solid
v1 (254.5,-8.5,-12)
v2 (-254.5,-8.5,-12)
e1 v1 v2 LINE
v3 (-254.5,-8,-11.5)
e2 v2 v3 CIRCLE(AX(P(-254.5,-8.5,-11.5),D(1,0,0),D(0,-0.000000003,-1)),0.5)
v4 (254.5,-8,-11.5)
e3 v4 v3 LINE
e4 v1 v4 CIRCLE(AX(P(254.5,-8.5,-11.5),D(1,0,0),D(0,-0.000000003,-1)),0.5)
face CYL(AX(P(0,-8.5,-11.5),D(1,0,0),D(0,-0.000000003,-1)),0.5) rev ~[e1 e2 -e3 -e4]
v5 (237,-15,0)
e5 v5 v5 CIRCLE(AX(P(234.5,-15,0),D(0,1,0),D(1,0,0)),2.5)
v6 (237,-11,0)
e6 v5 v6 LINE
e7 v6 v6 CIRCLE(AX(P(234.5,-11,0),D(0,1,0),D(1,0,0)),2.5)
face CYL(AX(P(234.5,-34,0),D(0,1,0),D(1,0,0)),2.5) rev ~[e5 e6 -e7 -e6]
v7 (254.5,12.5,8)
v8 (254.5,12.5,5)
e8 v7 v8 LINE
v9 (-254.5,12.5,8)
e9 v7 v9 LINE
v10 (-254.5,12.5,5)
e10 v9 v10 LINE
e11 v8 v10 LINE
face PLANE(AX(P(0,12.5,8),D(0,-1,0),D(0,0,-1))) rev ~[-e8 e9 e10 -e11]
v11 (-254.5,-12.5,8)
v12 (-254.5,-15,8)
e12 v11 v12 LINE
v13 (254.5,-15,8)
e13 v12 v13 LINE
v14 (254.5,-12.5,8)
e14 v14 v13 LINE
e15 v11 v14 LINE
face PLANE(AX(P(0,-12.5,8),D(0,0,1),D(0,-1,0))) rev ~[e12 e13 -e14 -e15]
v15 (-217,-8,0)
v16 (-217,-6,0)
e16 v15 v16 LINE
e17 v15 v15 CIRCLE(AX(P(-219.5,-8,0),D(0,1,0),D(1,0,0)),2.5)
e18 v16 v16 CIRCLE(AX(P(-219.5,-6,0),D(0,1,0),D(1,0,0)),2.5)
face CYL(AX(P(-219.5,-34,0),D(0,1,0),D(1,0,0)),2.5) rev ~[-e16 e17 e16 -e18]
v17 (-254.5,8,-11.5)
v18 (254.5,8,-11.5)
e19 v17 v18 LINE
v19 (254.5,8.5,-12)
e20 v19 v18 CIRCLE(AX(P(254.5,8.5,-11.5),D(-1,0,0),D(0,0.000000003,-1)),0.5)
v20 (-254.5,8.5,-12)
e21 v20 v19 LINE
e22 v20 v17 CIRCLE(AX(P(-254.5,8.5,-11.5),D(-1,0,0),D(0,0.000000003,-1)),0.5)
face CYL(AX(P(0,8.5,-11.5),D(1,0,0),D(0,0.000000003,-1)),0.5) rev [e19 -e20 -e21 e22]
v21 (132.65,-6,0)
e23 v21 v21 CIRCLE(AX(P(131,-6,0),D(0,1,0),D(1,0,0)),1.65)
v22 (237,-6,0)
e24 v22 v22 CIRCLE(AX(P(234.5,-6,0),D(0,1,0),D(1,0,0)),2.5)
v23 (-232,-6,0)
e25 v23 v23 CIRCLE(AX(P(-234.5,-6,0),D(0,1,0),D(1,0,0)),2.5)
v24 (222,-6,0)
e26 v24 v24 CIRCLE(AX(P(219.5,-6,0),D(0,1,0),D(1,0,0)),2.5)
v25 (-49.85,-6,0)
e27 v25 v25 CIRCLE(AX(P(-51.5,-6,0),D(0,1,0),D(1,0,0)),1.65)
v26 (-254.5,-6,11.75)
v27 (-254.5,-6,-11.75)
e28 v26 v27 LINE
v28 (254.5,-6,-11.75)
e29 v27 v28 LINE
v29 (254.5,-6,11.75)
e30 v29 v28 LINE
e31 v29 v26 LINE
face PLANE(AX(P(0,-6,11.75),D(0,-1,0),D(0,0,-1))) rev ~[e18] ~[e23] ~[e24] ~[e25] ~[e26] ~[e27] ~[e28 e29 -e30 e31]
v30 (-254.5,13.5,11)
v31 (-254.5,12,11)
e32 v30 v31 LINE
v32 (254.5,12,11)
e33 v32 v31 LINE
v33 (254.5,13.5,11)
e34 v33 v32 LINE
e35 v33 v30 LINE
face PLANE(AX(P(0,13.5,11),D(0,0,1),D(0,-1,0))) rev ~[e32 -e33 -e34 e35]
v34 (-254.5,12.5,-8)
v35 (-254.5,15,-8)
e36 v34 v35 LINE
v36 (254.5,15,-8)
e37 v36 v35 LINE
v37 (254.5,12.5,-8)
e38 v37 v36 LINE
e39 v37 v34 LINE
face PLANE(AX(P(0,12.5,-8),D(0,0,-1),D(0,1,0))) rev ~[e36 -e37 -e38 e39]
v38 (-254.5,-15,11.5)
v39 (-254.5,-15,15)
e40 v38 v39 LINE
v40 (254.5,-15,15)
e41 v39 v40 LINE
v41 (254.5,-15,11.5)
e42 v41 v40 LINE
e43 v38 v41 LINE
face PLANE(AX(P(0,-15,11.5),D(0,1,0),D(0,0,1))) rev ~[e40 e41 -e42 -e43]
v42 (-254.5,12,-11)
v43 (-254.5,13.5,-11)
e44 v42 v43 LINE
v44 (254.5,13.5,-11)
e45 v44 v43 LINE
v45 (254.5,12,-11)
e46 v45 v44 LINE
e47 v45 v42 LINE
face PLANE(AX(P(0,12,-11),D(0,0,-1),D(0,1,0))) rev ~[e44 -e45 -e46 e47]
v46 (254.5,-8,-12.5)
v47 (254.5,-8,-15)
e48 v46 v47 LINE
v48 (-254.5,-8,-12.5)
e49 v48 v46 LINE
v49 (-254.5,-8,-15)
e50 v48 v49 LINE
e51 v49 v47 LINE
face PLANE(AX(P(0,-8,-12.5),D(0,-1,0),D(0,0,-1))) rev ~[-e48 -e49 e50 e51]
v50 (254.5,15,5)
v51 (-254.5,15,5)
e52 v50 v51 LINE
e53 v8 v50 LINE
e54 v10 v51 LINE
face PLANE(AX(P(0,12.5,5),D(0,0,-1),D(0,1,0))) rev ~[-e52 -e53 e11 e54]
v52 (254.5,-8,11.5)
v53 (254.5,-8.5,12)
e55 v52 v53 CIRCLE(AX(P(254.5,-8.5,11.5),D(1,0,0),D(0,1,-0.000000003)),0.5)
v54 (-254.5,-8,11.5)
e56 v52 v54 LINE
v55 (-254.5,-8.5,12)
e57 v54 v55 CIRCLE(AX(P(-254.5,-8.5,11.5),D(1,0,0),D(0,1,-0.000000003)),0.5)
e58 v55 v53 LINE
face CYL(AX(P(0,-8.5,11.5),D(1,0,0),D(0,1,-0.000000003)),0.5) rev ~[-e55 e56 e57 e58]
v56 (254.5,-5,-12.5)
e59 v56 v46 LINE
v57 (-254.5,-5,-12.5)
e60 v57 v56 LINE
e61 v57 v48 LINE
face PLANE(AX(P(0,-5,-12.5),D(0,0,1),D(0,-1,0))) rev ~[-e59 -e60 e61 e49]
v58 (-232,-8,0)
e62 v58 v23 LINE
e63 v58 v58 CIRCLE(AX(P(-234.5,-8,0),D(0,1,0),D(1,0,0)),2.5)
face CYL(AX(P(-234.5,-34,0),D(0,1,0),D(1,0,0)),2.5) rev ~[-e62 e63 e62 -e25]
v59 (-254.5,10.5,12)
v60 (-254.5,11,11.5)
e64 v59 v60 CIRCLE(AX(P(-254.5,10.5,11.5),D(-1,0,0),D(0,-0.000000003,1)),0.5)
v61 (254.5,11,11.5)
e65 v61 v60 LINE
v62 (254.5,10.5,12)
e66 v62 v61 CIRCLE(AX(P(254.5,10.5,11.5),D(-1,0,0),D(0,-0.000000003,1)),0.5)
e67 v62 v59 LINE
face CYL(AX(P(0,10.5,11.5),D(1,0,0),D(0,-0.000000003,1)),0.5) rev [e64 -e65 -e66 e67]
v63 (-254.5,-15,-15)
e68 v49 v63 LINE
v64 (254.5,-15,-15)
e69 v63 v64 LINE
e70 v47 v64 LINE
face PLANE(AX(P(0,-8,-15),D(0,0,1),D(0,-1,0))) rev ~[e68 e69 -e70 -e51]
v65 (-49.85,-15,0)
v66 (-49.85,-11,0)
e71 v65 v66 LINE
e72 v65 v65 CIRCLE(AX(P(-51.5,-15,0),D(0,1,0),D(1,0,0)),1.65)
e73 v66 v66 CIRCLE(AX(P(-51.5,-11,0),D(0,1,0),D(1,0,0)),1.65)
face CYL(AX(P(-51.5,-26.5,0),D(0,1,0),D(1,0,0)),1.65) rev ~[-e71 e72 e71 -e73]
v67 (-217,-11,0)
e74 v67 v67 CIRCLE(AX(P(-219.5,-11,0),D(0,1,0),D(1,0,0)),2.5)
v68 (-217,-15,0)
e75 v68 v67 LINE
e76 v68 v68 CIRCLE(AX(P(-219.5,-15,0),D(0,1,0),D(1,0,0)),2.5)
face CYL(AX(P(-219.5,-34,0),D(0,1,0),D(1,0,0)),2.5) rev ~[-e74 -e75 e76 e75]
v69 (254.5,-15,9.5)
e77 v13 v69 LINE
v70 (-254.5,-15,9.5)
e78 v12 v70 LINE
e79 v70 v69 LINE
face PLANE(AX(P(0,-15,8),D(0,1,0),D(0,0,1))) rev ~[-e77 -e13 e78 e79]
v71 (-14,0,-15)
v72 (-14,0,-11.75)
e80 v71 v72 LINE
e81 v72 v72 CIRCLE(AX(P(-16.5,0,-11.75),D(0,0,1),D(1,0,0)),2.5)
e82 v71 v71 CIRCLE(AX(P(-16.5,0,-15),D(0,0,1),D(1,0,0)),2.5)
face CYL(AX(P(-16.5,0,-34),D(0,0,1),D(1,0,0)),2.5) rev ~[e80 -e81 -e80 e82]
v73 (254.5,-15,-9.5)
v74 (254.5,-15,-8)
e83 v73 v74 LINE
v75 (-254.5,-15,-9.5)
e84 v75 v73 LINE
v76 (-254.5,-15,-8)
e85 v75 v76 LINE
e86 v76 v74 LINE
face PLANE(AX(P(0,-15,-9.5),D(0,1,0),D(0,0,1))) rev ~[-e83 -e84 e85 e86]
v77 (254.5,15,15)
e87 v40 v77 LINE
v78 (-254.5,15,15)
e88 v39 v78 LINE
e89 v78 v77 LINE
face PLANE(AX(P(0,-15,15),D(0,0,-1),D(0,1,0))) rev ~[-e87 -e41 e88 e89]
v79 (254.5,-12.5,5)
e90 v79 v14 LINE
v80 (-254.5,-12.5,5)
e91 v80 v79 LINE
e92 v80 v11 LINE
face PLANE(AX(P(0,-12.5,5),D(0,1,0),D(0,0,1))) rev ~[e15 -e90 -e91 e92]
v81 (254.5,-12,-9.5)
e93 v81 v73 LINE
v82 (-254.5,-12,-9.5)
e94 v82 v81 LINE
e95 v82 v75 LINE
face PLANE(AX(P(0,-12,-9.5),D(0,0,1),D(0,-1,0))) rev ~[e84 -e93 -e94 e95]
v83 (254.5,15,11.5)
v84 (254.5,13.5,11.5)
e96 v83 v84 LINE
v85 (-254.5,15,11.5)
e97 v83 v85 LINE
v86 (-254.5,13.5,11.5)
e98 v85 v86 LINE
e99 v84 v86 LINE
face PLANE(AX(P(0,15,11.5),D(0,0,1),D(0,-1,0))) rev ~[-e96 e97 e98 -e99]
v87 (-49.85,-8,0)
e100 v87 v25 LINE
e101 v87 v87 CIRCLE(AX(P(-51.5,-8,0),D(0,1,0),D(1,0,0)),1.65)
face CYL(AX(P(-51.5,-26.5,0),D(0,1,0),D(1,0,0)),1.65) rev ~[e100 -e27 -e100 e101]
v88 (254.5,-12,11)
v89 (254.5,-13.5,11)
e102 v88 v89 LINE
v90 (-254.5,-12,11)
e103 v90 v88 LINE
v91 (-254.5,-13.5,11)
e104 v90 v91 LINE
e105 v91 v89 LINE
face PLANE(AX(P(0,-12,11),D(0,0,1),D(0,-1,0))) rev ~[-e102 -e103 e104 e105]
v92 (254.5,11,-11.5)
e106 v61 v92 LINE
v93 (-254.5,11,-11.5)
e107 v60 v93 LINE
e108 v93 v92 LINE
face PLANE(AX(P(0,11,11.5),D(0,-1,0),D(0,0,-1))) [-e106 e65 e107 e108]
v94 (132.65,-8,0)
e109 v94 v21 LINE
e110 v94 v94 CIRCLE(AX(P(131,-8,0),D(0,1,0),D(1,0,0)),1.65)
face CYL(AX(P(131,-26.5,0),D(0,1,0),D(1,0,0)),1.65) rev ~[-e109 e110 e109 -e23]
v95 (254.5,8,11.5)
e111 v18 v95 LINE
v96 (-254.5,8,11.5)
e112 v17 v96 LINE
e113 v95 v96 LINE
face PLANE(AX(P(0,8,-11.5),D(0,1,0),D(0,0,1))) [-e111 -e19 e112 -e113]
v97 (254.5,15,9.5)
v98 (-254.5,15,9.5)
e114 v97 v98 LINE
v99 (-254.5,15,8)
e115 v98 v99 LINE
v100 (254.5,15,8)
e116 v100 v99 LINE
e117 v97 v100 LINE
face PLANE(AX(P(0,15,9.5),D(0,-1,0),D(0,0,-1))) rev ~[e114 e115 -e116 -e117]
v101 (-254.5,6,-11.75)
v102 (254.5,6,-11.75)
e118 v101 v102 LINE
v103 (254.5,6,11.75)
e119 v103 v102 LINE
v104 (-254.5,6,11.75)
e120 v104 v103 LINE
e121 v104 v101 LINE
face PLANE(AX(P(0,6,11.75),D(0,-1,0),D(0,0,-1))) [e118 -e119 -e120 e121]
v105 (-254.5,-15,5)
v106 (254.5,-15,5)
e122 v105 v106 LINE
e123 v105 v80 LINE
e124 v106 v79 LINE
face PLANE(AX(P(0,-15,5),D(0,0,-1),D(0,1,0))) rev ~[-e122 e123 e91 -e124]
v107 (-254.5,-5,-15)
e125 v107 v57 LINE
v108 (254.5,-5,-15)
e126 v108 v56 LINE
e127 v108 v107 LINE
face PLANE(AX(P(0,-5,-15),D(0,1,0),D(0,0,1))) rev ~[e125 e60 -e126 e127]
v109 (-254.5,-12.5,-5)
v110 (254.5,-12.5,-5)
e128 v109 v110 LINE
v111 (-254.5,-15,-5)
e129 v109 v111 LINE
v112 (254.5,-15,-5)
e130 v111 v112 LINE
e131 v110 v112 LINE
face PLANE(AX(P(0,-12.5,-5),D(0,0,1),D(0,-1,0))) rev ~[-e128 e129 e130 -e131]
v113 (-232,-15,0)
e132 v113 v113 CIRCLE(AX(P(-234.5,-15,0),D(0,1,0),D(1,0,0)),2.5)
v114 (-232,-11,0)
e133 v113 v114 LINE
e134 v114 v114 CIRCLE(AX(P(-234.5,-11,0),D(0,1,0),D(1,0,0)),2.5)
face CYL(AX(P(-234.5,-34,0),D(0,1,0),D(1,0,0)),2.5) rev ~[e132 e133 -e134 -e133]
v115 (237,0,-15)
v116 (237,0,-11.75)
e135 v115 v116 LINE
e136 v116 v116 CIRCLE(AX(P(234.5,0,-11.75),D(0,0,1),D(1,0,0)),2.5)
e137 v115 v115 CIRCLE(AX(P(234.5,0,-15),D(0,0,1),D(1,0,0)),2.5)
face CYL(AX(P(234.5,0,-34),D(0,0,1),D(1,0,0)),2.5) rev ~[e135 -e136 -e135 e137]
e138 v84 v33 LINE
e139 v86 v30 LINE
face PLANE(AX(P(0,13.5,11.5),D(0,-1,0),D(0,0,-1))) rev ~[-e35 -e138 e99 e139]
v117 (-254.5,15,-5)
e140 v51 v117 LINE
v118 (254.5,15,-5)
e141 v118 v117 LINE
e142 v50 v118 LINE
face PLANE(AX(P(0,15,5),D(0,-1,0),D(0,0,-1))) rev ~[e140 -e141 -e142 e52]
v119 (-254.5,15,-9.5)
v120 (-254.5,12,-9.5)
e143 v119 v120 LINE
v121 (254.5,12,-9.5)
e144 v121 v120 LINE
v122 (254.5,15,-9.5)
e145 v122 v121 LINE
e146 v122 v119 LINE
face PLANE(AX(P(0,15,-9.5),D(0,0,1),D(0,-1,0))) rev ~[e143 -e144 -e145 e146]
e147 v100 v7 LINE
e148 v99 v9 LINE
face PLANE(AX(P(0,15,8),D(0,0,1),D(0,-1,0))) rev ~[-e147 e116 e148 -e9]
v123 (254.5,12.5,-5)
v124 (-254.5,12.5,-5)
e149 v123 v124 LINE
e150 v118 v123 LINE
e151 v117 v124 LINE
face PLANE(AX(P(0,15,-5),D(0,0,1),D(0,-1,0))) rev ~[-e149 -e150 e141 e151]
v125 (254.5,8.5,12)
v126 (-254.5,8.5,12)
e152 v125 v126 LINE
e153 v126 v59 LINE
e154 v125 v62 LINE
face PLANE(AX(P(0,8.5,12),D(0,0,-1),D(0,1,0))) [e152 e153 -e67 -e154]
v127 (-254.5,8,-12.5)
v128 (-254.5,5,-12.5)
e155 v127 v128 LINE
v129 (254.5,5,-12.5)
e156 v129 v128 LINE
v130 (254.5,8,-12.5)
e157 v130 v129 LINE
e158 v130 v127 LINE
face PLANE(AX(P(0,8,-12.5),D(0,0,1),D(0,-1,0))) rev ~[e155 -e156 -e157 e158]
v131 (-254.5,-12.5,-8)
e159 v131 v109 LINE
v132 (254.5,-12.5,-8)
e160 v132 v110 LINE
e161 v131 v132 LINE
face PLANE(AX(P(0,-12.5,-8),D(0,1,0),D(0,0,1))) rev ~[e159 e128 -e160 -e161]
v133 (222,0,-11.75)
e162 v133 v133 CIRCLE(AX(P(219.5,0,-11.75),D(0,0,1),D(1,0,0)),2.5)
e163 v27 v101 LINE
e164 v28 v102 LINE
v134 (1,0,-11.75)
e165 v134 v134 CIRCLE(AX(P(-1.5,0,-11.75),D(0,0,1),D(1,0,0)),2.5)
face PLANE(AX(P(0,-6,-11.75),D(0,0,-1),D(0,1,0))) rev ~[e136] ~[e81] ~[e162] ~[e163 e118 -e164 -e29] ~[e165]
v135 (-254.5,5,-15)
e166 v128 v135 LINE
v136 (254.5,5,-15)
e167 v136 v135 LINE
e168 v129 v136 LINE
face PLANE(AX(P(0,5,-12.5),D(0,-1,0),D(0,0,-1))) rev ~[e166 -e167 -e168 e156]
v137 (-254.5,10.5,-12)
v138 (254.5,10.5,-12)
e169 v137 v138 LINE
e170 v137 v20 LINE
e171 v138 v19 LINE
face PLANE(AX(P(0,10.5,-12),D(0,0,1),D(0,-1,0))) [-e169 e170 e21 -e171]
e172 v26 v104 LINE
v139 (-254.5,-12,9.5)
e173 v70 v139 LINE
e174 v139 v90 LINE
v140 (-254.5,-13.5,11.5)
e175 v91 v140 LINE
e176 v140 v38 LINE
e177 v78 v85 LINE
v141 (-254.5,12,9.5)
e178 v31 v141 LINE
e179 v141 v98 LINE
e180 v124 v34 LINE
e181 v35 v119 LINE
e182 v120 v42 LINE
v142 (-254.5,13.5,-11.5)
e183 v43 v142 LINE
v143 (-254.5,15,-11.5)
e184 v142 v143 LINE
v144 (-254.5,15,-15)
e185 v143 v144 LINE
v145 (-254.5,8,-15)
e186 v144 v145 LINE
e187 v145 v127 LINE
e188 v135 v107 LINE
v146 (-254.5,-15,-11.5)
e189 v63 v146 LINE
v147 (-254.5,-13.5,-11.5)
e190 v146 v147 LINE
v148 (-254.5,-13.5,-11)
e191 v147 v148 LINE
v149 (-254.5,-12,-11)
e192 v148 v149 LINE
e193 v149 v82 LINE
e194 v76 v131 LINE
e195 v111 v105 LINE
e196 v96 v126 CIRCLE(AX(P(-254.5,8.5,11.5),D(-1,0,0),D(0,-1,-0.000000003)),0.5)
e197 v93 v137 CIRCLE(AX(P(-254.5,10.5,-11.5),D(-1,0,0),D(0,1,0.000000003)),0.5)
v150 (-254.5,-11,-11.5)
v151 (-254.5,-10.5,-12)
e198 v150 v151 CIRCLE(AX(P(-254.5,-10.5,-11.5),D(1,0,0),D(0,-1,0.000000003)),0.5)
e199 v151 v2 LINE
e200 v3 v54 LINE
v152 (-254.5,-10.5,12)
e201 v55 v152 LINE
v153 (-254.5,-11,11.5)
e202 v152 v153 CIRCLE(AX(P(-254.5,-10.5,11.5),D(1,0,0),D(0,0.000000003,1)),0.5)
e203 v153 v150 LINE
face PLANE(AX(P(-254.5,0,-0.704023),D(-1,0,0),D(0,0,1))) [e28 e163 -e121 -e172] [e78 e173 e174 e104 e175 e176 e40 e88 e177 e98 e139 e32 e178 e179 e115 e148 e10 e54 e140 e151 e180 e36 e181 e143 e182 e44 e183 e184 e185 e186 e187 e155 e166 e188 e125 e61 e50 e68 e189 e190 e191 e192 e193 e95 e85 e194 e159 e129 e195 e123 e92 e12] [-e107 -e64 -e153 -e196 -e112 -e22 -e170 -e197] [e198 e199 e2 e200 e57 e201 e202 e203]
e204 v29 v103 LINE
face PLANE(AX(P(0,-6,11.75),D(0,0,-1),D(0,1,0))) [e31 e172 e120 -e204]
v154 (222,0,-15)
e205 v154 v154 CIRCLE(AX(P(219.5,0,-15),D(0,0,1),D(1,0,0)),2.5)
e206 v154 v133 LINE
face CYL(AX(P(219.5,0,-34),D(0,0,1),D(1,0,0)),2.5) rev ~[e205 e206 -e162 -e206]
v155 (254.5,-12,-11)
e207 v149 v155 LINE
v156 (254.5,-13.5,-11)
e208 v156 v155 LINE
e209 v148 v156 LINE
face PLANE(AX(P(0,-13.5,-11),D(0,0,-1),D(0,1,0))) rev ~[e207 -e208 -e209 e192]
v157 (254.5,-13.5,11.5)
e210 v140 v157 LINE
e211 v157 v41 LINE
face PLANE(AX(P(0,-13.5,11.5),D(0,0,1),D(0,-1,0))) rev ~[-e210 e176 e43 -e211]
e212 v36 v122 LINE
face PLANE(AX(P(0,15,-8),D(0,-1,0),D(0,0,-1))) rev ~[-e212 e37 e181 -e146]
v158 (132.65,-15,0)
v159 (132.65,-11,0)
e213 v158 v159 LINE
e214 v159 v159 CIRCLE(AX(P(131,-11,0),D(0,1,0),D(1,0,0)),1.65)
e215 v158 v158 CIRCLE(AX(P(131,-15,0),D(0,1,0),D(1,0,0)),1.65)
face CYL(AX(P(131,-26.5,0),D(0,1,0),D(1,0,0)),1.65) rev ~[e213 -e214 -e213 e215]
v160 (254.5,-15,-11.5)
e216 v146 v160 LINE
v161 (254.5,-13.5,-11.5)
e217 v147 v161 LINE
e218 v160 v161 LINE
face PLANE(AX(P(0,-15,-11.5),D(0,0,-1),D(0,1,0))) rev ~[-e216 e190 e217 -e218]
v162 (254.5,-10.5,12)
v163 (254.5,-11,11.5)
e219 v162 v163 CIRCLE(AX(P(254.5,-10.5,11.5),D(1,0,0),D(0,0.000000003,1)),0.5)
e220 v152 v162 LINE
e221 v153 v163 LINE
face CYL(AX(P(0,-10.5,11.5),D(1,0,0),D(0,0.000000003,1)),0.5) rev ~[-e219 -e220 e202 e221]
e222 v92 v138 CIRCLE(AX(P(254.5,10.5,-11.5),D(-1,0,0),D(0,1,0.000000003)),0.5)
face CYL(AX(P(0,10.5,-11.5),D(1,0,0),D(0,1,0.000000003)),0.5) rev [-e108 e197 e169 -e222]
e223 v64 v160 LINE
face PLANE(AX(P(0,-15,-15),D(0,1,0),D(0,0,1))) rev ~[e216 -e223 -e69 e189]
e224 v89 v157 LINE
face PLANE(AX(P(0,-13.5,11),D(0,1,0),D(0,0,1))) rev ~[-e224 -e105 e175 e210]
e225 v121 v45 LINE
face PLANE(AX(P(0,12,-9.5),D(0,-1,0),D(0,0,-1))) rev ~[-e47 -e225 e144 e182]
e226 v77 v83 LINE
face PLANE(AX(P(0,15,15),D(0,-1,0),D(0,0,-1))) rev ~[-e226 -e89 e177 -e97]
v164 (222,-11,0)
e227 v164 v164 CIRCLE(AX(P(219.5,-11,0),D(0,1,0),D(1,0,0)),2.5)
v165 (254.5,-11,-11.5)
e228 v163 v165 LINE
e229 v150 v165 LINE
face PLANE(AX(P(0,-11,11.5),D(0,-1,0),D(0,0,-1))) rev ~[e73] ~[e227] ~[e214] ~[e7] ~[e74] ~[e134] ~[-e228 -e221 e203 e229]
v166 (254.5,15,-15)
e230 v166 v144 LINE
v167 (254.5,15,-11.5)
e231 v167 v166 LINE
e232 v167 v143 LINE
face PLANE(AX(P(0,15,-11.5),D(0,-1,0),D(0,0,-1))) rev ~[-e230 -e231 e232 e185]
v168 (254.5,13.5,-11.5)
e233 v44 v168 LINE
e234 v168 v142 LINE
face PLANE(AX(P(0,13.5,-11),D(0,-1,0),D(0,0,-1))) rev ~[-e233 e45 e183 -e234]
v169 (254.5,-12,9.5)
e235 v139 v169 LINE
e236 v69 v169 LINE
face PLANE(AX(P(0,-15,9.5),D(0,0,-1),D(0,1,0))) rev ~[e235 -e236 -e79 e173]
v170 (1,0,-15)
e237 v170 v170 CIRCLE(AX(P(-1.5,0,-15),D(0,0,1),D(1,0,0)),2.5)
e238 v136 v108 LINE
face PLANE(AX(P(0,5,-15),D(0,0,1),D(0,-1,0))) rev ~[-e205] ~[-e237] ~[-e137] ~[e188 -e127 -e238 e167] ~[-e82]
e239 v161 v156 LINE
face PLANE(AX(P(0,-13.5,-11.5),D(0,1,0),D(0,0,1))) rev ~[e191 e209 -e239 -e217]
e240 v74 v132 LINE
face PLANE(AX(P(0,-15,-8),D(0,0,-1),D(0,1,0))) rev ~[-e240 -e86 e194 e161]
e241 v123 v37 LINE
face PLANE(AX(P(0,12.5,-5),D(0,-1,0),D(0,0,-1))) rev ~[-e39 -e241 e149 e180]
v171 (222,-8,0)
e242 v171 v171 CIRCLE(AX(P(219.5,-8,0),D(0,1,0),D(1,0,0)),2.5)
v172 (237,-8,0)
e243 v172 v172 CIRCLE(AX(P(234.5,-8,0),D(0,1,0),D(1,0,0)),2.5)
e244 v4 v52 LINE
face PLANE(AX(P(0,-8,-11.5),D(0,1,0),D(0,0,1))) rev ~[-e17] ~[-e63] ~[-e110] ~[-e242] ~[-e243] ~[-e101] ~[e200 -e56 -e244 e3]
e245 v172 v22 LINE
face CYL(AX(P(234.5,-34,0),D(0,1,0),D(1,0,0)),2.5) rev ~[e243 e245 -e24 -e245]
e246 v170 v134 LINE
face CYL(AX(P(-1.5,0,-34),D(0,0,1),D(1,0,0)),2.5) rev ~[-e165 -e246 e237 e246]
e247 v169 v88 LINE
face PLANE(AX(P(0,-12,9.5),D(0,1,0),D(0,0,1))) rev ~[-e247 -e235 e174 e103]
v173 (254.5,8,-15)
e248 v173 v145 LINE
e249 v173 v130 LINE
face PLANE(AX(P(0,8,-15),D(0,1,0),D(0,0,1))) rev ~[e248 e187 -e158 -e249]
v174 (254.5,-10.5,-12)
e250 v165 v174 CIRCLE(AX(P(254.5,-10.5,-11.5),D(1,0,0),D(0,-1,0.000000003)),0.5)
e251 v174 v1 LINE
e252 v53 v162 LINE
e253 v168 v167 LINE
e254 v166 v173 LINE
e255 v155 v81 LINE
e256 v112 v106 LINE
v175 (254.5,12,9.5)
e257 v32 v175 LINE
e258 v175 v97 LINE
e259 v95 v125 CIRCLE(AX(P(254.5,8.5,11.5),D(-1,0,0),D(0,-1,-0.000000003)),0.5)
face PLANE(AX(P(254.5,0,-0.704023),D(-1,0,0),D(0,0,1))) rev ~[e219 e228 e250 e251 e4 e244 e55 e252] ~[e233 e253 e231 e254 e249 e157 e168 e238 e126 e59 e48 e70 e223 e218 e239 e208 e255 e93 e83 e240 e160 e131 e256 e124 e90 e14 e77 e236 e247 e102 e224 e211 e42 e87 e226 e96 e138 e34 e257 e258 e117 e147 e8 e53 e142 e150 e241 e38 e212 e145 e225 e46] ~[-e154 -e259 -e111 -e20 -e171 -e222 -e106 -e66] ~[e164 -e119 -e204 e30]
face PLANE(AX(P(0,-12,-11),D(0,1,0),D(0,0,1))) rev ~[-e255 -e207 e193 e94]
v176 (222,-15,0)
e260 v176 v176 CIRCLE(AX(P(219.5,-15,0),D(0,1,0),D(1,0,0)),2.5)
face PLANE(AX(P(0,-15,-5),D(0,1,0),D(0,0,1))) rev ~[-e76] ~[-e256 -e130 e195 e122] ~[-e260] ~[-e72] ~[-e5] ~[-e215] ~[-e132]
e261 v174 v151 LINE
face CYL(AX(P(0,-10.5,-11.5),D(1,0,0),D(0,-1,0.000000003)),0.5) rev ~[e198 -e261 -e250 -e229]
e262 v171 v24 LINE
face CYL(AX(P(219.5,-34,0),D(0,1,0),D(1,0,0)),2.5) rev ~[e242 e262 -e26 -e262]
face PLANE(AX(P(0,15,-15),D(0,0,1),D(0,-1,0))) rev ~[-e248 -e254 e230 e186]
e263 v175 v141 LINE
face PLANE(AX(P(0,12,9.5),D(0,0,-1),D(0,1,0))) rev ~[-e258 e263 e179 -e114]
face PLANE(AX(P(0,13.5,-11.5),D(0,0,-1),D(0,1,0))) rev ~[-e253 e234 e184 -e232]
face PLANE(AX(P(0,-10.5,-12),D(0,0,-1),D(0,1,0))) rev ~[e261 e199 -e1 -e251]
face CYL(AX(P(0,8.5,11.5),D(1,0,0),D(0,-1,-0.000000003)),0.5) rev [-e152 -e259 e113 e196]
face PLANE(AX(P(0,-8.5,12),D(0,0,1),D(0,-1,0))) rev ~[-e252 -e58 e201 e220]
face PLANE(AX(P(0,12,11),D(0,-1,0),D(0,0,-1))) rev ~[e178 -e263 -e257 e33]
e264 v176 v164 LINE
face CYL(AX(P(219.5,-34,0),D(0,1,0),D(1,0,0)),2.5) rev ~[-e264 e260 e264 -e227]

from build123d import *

# Parameters (mm, degrees)
SKETCH_1_W             = 23.5
SKETCH_1_H             = 12
EXTRUDE_1_DEPTH        = 254.5
HOLE_WIZARD_M6_1_D     = 5
HOLE_WIZARD_M6_1_DEPTH = 19
HOLE_WIZARD_M6_1_TIP   = 1.502151548
HOLE_WIZARD_M6_2_D     = 5
HOLE_WIZARD_M6_2_DEPTH = 19
HOLE_WIZARD_M6_2_TIP   = 1.502151548
HOLE_WIZARD_M4_1_D     = 3.3
HOLE_WIZARD_M4_1_DEPTH = 11.5
HOLE_WIZARD_M4_1_TIP   = 0.991420021


with BuildPart() as part:
    # 草图1 → 凸台-拉伸1 (new, symmetric)
    with BuildSketch(Plane(origin=(0, 0, 0), x_dir=(0, 0, -1), z_dir=(1, 0, 0))):
        Polygon((-15, 15), (-11.5, 15), (-11.5, 13.5), (-11, 13.5), (-11, 12), (-9.5, 12), (-9.5, 15), (-8, 15), (-8, 12.5), (-5, 12.5), (-5, 15), (5, 15), (5, 12.5), (8, 12.5), (8, 15), (9.5, 15), (9.5, 12), (11, 12), (11, 13.5), (11.5, 13.5), (11.5, 15), (15, 15), (15, 8), (12.5, 8), (12.5, 5), (15, 5), (15, -5), (12.5, -5), (12.5, -8), (15, -8), (15, -15), (11.5, -15), (11.5, -13.5), (11, -13.5), (11, -12), (9.5, -12), (9.5, -15), (8, -15), (8, -12.5), (5, -12.5), (5, -15), (-5, -15), (-5, -12.5), (-8, -12.5), (-8, -15), (-9.5, -15), (-9.5, -12), (-11, -12), (-11, -13.5), (-11.5, -13.5), (-11.5, -15), (-15, -15), align=None)
        with BuildLine():
            Line((12, -10.5), (12, -8.5))
            ThreePointArc((12, -8.5), (11.853553391, -8.146446609), (11.5, -8))
            Line((11.5, -8), (-11.5, -8))
            ThreePointArc((-11.5, -8), (-11.853553391, -8.146446609), (-12, -8.5))
            Line((-12, -8.5), (-12, -10.5))
            ThreePointArc((-12, -10.5), (-11.853553391, -10.853553391), (-11.5, -11))
            Line((-11.5, -11), (11.5, -11))
            ThreePointArc((11.5, -11), (11.853553391, -10.853553391), (12, -10.5))
        make_face(mode=Mode.SUBTRACT)
        with BuildLine():
            Line((-11.5, 11), (11.5, 11))
            ThreePointArc((11.5, 11), (11.853553391, 10.853553391), (12, 10.5))
            Line((12, 10.5), (12, 8.5))
            ThreePointArc((12, 8.5), (11.853553391, 8.146446609), (11.5, 8))
            Line((11.5, 8), (-11.5, 8))
            ThreePointArc((-11.5, 8), (-11.853553391, 8.146446609), (-12, 8.5))
            Line((-12, 8.5), (-12, 10.5))
            ThreePointArc((-12, 10.5), (-11.853553391, 10.853553391), (-11.5, 11))
        make_face(mode=Mode.SUBTRACT)
        Rectangle(SKETCH_1_W, SKETCH_1_H, mode=Mode.SUBTRACT)
    extrude(amount=EXTRUDE_1_DEPTH, both=True)

    # M6 螺纹孔1
    with Locations(Plane(origin=(0, 0, -15), x_dir=(-1, 0, 0), z_dir=(0, 0, -1))):
        with Locations((16.5, 0), (1.5, 0), (-219.5, 0), (-234.5, 0)):
            Hole(HOLE_WIZARD_M6_1_D / 2, depth=HOLE_WIZARD_M6_1_DEPTH)
            with Locations((0, 0, -(HOLE_WIZARD_M6_1_DEPTH + HOLE_WIZARD_M6_1_TIP / 2))):  # 118° drill point
                Cone(0, HOLE_WIZARD_M6_1_D / 2, HOLE_WIZARD_M6_1_TIP, mode=Mode.SUBTRACT)

    # M6 螺纹孔2
    with Locations(Plane(origin=(0, -15, 0), x_dir=(-1, 0, 0), z_dir=(0, -1, 0))):
        with Locations((-219.5, 0), (-234.5, 0), (234.5, 0), (219.5, 0)):
            Hole(HOLE_WIZARD_M6_2_D / 2, depth=HOLE_WIZARD_M6_2_DEPTH)
            with Locations((0, 0, -(HOLE_WIZARD_M6_2_DEPTH + HOLE_WIZARD_M6_2_TIP / 2))):  # 118° drill point
                Cone(0, HOLE_WIZARD_M6_2_D / 2, HOLE_WIZARD_M6_2_TIP, mode=Mode.SUBTRACT)

    # M4 螺纹孔1
    with Locations(Plane(origin=(0, -15, 0), x_dir=(-1, 0, 0), z_dir=(0, -1, 0))):
        with Locations((-131, 0), (51.5, 0)):
            Hole(HOLE_WIZARD_M4_1_D / 2, depth=HOLE_WIZARD_M4_1_DEPTH)
            with Locations((0, 0, -(HOLE_WIZARD_M4_1_DEPTH + HOLE_WIZARD_M4_1_TIP / 2))):  # 118° drill point
                Cone(0, HOLE_WIZARD_M4_1_D / 2, HOLE_WIZARD_M4_1_TIP, mode=Mode.SUBTRACT)


solid = part.part
